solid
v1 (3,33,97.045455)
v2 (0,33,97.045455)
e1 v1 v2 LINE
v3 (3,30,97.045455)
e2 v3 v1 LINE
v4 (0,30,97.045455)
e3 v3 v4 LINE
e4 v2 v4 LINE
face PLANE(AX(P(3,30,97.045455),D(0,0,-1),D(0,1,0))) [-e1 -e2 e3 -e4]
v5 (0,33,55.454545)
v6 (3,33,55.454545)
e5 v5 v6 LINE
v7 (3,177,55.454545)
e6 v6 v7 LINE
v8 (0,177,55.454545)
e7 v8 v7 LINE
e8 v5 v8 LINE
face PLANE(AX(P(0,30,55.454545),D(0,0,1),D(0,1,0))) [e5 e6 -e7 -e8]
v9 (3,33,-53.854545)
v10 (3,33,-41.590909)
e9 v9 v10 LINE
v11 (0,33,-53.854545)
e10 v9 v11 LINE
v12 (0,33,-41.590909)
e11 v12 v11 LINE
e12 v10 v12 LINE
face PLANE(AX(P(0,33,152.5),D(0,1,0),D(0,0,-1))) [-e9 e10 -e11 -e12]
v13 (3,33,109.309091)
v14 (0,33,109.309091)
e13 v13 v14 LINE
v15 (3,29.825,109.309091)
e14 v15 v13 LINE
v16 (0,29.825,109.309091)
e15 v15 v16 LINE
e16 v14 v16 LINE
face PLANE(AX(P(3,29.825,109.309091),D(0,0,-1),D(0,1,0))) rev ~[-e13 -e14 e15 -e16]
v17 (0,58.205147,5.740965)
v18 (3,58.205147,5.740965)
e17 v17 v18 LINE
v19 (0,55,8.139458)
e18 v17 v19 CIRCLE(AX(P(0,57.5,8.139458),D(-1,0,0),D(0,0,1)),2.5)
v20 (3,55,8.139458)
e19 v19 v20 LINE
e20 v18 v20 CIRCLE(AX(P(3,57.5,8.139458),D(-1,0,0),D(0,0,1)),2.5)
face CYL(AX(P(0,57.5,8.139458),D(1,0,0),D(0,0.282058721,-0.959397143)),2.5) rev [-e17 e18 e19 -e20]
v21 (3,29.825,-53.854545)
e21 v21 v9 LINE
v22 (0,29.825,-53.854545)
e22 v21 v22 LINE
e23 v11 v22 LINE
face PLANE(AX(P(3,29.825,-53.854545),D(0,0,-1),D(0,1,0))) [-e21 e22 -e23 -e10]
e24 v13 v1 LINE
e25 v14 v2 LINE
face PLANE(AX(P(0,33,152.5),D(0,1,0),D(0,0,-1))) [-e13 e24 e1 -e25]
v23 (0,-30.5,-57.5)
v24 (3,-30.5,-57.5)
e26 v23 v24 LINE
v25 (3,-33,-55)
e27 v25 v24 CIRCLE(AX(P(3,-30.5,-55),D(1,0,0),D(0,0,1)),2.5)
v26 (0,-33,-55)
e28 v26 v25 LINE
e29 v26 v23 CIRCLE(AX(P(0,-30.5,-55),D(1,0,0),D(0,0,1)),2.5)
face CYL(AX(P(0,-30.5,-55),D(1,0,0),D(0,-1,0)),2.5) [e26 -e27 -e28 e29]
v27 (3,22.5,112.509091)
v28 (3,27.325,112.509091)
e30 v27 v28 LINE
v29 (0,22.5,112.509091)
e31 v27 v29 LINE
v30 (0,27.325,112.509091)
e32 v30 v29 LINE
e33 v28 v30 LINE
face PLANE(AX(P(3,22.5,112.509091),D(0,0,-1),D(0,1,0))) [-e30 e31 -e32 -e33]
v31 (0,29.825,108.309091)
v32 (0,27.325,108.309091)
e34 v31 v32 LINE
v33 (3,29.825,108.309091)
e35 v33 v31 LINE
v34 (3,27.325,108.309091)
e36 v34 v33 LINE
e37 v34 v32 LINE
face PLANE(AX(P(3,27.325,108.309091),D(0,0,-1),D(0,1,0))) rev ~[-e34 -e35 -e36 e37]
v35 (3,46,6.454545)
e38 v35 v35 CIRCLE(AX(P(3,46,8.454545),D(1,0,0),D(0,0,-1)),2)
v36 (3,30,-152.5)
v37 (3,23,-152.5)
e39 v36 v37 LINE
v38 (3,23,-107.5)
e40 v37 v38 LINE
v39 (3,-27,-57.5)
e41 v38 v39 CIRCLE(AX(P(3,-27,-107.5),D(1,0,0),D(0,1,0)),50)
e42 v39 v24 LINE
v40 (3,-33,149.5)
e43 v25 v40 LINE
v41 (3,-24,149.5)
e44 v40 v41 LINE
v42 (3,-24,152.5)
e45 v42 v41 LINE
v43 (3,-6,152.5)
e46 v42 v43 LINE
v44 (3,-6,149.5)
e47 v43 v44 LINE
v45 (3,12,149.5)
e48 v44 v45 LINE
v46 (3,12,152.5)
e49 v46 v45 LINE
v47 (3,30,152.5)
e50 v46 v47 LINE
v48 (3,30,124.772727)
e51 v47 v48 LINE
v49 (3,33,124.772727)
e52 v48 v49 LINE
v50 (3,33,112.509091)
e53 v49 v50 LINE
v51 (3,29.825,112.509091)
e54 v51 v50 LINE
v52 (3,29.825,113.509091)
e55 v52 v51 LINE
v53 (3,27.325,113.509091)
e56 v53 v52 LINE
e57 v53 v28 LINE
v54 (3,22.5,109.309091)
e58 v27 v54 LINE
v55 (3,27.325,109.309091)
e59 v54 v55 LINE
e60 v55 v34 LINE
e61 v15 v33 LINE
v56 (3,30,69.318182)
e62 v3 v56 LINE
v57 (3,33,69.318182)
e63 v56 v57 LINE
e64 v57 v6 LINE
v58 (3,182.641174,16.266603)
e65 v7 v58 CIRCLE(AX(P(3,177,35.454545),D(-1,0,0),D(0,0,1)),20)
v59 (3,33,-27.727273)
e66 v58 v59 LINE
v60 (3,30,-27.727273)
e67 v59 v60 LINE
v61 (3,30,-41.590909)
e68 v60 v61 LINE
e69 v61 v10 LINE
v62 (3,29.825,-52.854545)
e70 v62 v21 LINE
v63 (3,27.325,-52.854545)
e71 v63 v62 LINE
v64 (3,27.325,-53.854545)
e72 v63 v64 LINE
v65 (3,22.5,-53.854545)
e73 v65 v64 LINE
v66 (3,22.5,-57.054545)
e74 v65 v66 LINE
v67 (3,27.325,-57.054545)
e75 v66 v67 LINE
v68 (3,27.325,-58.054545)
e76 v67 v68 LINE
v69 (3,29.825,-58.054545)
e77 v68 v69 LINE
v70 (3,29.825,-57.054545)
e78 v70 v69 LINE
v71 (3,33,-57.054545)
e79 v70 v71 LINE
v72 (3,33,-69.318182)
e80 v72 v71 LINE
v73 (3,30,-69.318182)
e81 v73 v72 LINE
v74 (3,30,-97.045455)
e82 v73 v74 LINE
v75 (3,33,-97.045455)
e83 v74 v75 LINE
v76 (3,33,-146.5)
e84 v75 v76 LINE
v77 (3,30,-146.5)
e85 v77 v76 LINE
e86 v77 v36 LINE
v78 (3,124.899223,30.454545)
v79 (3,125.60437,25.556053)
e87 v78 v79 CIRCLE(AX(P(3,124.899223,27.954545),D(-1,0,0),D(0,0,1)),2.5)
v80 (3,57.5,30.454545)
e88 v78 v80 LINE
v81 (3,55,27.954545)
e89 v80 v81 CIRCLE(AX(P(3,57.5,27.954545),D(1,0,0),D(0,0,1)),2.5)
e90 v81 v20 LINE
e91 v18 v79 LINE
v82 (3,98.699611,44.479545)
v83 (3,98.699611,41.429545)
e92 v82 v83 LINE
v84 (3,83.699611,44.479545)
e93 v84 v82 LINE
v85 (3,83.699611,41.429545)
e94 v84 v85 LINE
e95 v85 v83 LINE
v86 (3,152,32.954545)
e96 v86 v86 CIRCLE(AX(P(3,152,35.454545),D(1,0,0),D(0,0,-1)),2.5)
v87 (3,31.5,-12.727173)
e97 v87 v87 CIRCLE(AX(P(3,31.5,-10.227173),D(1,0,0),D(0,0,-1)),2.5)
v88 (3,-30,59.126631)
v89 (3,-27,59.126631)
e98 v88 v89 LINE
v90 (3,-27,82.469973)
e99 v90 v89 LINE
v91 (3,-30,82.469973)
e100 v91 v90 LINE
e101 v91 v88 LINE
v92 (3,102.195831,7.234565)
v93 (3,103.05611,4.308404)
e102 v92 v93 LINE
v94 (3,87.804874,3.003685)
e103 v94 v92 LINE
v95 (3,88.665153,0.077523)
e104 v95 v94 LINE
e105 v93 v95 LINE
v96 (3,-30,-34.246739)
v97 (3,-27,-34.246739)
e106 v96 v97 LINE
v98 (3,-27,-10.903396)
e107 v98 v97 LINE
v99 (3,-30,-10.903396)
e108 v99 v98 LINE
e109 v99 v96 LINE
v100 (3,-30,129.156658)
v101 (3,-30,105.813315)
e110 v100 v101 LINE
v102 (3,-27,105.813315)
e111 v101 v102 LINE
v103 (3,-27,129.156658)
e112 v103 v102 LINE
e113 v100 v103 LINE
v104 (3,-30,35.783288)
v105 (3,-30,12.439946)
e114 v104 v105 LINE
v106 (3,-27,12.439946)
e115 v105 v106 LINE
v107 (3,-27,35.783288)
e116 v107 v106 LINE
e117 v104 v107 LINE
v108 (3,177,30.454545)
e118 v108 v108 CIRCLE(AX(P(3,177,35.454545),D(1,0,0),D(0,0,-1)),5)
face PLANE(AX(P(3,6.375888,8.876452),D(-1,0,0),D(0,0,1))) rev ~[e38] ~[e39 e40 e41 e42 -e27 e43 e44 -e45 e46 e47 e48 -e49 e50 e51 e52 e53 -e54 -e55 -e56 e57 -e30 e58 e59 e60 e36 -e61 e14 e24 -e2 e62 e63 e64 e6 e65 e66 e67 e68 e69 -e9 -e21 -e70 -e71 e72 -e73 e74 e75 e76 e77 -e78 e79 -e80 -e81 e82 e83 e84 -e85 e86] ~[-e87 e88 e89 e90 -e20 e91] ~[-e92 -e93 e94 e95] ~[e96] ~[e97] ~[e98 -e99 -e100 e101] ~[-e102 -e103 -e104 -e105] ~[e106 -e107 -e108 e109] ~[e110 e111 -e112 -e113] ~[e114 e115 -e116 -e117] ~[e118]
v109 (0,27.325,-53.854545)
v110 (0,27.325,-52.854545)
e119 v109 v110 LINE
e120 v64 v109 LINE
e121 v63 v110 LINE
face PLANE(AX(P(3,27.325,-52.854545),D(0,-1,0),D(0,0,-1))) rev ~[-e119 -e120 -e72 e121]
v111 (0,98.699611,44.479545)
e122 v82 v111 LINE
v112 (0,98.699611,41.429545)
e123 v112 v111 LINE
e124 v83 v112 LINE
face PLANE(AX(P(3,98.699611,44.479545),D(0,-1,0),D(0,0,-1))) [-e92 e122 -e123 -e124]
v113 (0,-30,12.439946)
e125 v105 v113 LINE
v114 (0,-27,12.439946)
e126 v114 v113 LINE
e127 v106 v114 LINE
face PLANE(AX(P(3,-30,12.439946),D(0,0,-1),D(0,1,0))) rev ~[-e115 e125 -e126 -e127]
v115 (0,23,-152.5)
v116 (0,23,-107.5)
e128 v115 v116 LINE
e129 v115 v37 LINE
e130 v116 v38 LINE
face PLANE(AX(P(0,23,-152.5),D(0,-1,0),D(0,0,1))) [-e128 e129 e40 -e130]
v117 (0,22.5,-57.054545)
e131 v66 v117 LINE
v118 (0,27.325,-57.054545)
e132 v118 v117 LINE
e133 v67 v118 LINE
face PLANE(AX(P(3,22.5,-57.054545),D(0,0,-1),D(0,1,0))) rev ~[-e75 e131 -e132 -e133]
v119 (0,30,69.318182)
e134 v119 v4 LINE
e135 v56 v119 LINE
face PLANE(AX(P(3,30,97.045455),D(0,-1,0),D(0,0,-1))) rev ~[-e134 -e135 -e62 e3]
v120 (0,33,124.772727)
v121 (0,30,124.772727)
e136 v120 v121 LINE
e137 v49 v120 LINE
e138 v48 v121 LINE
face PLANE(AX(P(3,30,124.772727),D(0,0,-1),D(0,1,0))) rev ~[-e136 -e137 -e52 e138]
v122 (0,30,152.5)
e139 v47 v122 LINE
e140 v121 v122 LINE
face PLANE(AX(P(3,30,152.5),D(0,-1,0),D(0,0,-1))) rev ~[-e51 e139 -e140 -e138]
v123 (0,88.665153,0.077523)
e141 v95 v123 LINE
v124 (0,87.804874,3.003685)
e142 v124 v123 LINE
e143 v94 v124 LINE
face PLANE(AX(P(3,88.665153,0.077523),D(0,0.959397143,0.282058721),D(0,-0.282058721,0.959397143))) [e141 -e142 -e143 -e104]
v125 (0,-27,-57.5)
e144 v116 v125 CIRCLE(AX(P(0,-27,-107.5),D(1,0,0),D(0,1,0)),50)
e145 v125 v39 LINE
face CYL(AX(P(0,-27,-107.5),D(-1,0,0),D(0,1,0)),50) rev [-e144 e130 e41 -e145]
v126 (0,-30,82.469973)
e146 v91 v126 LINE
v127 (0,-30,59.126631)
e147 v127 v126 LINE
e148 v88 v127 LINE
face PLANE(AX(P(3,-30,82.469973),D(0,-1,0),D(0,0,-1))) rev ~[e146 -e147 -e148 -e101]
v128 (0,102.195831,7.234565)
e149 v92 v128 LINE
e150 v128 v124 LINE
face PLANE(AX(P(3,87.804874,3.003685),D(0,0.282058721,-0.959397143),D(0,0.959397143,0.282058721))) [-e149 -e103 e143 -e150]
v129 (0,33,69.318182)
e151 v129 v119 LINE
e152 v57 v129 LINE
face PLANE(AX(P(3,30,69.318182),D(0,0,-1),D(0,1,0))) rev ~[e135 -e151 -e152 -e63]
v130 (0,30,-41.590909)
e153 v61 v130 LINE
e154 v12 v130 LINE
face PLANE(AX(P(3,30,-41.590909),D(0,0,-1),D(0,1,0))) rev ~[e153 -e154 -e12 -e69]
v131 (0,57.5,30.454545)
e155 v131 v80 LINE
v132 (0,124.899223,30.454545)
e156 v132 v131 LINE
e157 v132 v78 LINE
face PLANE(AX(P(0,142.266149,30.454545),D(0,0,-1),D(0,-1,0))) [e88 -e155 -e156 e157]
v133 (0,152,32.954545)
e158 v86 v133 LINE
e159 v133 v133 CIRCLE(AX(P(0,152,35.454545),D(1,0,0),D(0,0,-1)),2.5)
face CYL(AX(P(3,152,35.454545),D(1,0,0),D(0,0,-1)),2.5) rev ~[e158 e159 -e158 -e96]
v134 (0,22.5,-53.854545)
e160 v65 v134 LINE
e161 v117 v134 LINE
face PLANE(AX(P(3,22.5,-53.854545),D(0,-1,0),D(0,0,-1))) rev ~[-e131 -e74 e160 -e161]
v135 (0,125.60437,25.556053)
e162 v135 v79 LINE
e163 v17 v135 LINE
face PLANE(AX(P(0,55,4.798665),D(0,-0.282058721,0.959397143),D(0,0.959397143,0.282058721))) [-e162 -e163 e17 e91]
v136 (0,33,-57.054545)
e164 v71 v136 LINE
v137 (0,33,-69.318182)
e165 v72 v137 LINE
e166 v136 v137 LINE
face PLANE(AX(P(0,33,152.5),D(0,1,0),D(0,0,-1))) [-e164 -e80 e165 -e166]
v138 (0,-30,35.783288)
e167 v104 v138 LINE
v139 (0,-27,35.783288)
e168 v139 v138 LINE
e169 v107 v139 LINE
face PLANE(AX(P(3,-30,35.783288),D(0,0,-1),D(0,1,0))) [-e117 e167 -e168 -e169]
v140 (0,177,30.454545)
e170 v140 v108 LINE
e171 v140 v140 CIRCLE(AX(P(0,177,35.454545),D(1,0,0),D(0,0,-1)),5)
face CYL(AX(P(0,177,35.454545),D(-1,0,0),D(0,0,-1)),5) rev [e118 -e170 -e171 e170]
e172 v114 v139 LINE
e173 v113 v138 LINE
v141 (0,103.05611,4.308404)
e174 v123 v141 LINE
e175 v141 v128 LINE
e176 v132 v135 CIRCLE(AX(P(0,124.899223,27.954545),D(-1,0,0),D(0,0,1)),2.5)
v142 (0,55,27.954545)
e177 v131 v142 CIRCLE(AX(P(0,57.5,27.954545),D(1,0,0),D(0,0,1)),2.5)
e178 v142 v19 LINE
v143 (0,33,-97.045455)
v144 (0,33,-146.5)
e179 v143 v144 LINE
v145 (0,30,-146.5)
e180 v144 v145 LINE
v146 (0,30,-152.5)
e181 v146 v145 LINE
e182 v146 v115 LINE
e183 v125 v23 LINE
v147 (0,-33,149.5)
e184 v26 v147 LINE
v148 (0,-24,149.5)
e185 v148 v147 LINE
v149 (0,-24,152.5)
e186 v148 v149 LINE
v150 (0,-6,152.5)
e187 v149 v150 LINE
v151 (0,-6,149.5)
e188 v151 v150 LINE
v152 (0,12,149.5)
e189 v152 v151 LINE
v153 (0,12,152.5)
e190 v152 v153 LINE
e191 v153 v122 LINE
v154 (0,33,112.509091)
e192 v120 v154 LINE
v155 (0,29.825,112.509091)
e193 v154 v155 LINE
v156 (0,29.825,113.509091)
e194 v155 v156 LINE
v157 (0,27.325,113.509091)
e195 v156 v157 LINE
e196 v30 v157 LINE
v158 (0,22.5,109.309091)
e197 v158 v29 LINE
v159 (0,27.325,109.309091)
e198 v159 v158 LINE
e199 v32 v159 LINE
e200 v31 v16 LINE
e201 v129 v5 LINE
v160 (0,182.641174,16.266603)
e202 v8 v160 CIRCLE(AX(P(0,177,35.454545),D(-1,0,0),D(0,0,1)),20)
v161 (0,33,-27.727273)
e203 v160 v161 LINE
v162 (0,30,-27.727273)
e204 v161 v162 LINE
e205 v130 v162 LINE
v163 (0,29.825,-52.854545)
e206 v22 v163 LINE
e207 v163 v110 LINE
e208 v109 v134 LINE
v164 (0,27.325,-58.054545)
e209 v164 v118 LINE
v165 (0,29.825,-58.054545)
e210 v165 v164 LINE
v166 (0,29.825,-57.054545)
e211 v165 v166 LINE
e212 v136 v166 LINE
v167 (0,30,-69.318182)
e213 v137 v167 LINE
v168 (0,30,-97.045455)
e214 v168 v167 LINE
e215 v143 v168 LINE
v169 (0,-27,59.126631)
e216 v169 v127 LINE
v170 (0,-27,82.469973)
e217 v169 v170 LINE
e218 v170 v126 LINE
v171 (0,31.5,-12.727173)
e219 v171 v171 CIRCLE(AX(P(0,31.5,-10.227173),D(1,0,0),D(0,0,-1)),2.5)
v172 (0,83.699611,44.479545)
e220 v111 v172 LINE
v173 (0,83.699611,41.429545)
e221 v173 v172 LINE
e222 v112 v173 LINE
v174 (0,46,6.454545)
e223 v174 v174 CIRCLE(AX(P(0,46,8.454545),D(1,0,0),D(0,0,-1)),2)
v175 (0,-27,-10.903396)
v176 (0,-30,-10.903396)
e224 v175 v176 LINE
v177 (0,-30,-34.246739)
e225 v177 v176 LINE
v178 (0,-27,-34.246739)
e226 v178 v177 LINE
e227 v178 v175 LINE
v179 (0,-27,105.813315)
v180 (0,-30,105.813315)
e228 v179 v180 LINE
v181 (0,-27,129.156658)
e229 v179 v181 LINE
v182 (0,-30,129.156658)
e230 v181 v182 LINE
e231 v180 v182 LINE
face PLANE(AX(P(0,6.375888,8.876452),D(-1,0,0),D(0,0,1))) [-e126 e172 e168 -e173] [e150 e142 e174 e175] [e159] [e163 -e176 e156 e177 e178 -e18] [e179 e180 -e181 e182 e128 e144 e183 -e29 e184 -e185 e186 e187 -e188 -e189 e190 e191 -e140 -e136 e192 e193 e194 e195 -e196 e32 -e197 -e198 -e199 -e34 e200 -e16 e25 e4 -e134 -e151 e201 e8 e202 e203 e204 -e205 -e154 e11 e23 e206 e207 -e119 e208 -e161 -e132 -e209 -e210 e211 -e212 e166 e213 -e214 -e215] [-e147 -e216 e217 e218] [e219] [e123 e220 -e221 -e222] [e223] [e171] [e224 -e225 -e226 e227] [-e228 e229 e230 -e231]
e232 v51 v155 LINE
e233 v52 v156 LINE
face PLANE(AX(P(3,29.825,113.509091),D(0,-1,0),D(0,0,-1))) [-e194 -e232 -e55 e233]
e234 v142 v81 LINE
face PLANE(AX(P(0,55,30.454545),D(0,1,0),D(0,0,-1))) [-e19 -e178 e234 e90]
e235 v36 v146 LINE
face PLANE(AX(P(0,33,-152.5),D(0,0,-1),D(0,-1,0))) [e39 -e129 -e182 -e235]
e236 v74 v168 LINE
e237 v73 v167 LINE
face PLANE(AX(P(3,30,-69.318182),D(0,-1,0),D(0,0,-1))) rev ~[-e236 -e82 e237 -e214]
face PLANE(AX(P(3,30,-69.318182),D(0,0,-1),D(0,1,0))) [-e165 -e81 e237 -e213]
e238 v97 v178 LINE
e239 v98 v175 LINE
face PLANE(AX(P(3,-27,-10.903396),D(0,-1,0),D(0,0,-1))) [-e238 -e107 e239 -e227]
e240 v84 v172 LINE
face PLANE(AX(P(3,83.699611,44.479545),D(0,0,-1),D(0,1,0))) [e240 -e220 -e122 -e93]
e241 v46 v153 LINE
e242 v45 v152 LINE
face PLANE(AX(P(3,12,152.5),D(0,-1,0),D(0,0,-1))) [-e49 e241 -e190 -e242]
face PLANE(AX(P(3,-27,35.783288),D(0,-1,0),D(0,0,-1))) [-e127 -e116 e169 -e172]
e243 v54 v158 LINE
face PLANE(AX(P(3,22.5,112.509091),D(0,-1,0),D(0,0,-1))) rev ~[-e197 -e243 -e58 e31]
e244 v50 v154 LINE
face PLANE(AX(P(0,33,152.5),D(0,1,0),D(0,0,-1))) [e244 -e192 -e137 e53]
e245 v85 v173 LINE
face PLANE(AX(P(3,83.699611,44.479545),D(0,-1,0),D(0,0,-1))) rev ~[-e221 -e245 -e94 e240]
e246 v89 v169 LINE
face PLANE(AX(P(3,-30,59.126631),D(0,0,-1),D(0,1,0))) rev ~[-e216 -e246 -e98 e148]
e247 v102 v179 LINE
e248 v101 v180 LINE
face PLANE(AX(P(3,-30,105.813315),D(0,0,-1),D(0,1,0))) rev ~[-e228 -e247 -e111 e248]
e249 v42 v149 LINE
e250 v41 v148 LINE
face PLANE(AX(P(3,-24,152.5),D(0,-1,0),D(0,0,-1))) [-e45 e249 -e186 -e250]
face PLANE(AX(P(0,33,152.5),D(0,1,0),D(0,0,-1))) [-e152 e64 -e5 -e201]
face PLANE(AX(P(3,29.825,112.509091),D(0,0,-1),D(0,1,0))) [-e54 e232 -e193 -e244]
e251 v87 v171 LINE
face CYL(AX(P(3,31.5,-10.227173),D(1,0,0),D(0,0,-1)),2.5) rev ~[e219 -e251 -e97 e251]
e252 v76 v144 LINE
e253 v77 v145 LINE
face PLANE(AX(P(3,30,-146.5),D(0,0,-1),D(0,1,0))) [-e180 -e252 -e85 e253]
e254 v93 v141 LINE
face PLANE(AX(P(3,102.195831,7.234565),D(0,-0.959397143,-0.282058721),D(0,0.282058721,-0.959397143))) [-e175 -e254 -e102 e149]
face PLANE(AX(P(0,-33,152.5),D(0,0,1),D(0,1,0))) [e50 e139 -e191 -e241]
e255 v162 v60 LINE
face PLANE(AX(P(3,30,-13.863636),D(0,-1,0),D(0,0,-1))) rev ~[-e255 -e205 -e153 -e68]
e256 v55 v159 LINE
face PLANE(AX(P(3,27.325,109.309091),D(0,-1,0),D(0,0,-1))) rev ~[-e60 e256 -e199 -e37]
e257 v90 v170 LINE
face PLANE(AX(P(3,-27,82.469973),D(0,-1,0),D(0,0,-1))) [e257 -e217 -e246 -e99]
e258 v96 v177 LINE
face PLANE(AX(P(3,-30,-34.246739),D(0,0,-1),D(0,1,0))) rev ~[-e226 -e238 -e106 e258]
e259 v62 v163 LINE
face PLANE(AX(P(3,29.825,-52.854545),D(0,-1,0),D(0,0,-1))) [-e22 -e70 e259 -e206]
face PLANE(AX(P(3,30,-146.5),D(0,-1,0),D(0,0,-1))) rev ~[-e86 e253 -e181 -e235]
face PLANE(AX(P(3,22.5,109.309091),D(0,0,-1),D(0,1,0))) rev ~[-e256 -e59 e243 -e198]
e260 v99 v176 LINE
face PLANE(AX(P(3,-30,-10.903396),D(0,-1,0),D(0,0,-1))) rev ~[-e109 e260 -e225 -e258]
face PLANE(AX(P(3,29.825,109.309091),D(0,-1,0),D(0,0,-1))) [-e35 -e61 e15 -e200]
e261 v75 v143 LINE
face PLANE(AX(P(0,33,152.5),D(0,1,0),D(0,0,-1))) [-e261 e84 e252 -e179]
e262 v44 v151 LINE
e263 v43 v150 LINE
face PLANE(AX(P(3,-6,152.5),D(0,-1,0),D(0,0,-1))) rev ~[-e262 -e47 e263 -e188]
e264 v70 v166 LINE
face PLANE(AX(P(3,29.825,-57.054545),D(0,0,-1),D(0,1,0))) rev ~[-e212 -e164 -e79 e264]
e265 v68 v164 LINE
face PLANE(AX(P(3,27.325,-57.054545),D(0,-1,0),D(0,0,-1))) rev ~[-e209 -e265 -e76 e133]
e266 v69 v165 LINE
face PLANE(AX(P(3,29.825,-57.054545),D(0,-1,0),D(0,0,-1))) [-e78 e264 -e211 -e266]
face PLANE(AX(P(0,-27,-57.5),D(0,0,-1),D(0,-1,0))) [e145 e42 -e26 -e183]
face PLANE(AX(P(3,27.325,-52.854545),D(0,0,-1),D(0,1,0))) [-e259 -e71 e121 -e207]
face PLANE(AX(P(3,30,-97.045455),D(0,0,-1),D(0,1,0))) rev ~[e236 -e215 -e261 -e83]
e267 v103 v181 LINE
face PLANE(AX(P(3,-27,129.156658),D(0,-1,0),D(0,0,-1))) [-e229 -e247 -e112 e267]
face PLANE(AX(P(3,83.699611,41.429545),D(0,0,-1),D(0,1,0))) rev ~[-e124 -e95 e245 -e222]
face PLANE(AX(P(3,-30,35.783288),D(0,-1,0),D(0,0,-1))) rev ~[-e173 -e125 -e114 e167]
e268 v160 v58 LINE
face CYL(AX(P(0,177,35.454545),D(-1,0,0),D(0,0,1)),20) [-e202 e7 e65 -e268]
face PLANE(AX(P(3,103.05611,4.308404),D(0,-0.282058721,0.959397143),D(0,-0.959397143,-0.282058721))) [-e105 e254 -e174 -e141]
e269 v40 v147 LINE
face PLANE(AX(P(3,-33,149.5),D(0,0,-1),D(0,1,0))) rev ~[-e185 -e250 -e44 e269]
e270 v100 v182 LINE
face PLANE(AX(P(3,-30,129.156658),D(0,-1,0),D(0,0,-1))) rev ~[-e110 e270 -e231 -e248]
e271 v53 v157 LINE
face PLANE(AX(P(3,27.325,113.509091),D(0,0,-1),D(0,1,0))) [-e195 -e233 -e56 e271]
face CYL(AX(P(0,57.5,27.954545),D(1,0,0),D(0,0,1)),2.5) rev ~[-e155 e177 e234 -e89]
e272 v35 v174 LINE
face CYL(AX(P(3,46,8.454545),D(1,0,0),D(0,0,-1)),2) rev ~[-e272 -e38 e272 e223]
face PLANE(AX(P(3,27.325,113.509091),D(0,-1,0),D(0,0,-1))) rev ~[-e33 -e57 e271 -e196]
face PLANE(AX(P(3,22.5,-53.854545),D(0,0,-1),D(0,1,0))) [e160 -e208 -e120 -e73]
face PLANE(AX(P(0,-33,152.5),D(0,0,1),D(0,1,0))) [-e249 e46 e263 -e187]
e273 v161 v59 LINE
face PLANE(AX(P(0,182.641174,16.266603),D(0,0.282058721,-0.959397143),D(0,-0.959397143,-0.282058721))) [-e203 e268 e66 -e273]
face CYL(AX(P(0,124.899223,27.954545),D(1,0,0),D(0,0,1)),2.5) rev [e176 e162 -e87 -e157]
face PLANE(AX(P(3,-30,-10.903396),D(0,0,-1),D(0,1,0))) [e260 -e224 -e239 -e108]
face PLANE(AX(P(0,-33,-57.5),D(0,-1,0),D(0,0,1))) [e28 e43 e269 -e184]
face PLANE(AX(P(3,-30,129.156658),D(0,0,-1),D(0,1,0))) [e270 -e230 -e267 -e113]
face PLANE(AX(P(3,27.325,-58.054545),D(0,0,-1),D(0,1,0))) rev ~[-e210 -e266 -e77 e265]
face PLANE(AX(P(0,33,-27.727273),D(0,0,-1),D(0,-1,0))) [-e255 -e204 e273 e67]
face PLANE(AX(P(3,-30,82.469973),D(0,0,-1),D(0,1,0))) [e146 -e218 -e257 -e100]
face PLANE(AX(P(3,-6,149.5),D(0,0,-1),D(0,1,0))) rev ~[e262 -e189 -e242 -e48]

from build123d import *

# Parameters (mm, degrees)
BOSS_EXTRUDE1_DEPTH     = 3
SKETCH2_W               = 27.727272727
SKETCH2_H               = 3
SKETCH2_W_2             = 3
SKETCH2_H_2             = 18
SKETCH2_H_3             = 9
SKETCH2_W_3             = 23.343342349
SKETCH2_W_4             = 23.34334235
SKETCH2_W_5             = 6
CUT_EXTRUDE1_DEPTH      = 1
CUT_EXTRUDE1_DEPTH_BACK = 4
SKETCH3_W               = 3.2
SKETCH3_H               = 10.5
SKETCH3_W_2             = 5.2
SKETCH3_H_2             = 2.5
CUT_EXTRUDE2_DEPTH      = 1
CUT_EXTRUDE2_DEPTH_BACK = 4
FILLET1_R               = 2.5
SKETCH4_R               = 5
BOSS_EXTRUDE2_DEPTH     = 3
FILLET2_R               = 2.5
SKETCH5_R               = 2.5
SKETCH5_R_2             = 2
SKETCH5_W               = 3.05
SKETCH5_H               = 15
CUT_EXTRUDE3_DEPTH      = 1
CUT_EXTRUDE3_DEPTH_BACK = 4


with BuildPart() as part:
    # Sketch1 → Boss-Extrude1 (new body)
    with BuildSketch(Plane(origin=(0, 0, 0), x_dir=(0, 0, -1), z_dir=(1, 0, 0))):
        with BuildLine():
            Line((-152.5, 33), (152.5, 33))
            Line((152.5, 33), (152.5, 23))
            Line((152.5, 23), (107.5, 23))
            ThreePointArc((107.5, 23), (72.144660941, 8.355339059), (57.5, -27))
            Line((57.5, -27), (57.5, -33))
            Line((57.5, -33), (-152.5, -33))
            Line((-152.5, -33), (-152.5, 33))
        make_face()
    extrude(amount=BOSS_EXTRUDE1_DEPTH)

    # Sketch2 → Cut-Extrude1 (cut, two sides)
    with BuildSketch(Plane(origin=(3, 0, 0), x_dir=(0, 0, -1), z_dir=(1, 0, 0))) as cut_extrude1_sk:
        with Locations((27.727272728, 31.5)):
            Rectangle(SKETCH2_W, SKETCH2_H)
        with Locations((83.181818182, 31.5)):
            Rectangle(SKETCH2_W, SKETCH2_H)
        with Locations((-138.636363636, 31.5)):
            Rectangle(SKETCH2_W, SKETCH2_H)
        with Locations((-83.181818182, 31.5)):
            Rectangle(SKETCH2_W, SKETCH2_H)
        with Locations((-27.727272728, 31.5)):
            Rectangle(SKETCH2_W, SKETCH2_H)
        with Locations((-151, 3)):
            Rectangle(SKETCH2_W_2, SKETCH2_H_2)
        with Locations((-151, -28.5)):
            Rectangle(SKETCH2_W_2, SKETCH2_H_3)
        with Locations((-117.484986475, -28.5)):
            Rectangle(SKETCH2_W_3, SKETCH2_H)
        with Locations((-70.798301777, -28.5)):
            Rectangle(SKETCH2_W_3, SKETCH2_H)
        with Locations((22.575067622, -28.5)):
            Rectangle(SKETCH2_W_4, SKETCH2_H)
        with Locations((149.5, 31.5)):
            Rectangle(SKETCH2_W_5, SKETCH2_H)
        with Locations((-24.111617078, -28.5)):
            Rectangle(SKETCH2_W_3, SKETCH2_H)
    extrude(amount=CUT_EXTRUDE1_DEPTH, mode=Mode.SUBTRACT)
    extrude(cut_extrude1_sk.sketch, amount=-CUT_EXTRUDE1_DEPTH_BACK, mode=Mode.SUBTRACT)

    # Sketch3 → Cut-Extrude2 (cut, two sides)
    with BuildSketch(Plane(origin=(3, 0, 0), x_dir=(0, 0, -1), z_dir=(1, 0, 0))) as cut_extrude2_sk:
        with Locations((-110.909090909, 27.75)):
            Rectangle(SKETCH3_W, SKETCH3_H)
        with Locations((55.454545455, 27.75)):
            Rectangle(SKETCH3_W, SKETCH3_H)
        with Locations((55.454545455, 28.575)):
            Rectangle(SKETCH3_W_2, SKETCH3_H_2)
        with Locations((-110.909090909, 28.575)):
            Rectangle(SKETCH3_W_2, SKETCH3_H_2)
    extrude(amount=CUT_EXTRUDE2_DEPTH, mode=Mode.SUBTRACT)
    extrude(cut_extrude2_sk.sketch, amount=-CUT_EXTRUDE2_DEPTH_BACK, mode=Mode.SUBTRACT)

    # Fillet1
    fillet1_edges = [part.edges().sort_by_distance(p)[0] for p in [
        (1.5, -33, -57.5),
    ]]
    fillet(fillet1_edges, radius=FILLET1_R)

    # Sketch4 → Boss-Extrude2 (add)
    with BuildSketch(Plane(origin=(0, 0, 0), x_dir=(0, 0, -1), z_dir=(1, 0, 0))):
        with BuildLine():
            Line((-55.454545455, 30), (-55.454545455, 177))
            ThreePointArc((-55.454545455, 177), (-38.304207087, 196.795944751), (-16.266602596, 182.641174423))
            Line((-16.266602596, 182.641174423), (27.727272727, 33))
            Line((27.727272727, 33), (27.727272727, 30))
            Line((27.727272727, 30), (-55.454545455, 30))
        make_face()
        with Locations((-35.454545455, 177)):
            Circle(SKETCH4_R, mode=Mode.SUBTRACT)
        Polygon((-30.454545455, 55), (-4.798665146, 55), (-30.454545455, 142.266148573), align=None, mode=Mode.SUBTRACT)
    extrude(amount=BOSS_EXTRUDE2_DEPTH)

    # Fillet2
    fillet2_edges = [part.edges().sort_by_distance(p)[0] for p in [
        (1.5, 55, 30.454545455),
        (1.5, 55, 4.798665146),
        (1.5, 142.266148573, 30.454545455),
    ]]
    fillet(fillet2_edges, radius=FILLET2_R)

    # Sketch5 → Cut-Extrude3 (cut, two sides)
    with BuildSketch(Plane(origin=(3, 0, 0), x_dir=(0, 0, -1), z_dir=(1, 0, 0))) as cut_extrude3_sk:
        with Locations((10.227172727, 31.5)):
            Circle(SKETCH5_R)
        with Locations((-35.454545455, 152)):
            Circle(SKETCH5_R)
        with Locations((-8.454545455, 46)):
            Circle(SKETCH5_R_2)
        Polygon((-3.003684653, 87.804874126), (-7.23456547, 102.195831269), (-4.308404184, 103.056110369), (-0.077523367, 88.665153225), align=None)
        with Locations((-42.954545455, 91.19961143)):
            Rectangle(SKETCH5_W, SKETCH5_H)
    extrude(amount=CUT_EXTRUDE3_DEPTH, mode=Mode.SUBTRACT)
    extrude(cut_extrude3_sk.sketch, amount=-CUT_EXTRUDE3_DEPTH_BACK, mode=Mode.SUBTRACT)


solid = part.part
